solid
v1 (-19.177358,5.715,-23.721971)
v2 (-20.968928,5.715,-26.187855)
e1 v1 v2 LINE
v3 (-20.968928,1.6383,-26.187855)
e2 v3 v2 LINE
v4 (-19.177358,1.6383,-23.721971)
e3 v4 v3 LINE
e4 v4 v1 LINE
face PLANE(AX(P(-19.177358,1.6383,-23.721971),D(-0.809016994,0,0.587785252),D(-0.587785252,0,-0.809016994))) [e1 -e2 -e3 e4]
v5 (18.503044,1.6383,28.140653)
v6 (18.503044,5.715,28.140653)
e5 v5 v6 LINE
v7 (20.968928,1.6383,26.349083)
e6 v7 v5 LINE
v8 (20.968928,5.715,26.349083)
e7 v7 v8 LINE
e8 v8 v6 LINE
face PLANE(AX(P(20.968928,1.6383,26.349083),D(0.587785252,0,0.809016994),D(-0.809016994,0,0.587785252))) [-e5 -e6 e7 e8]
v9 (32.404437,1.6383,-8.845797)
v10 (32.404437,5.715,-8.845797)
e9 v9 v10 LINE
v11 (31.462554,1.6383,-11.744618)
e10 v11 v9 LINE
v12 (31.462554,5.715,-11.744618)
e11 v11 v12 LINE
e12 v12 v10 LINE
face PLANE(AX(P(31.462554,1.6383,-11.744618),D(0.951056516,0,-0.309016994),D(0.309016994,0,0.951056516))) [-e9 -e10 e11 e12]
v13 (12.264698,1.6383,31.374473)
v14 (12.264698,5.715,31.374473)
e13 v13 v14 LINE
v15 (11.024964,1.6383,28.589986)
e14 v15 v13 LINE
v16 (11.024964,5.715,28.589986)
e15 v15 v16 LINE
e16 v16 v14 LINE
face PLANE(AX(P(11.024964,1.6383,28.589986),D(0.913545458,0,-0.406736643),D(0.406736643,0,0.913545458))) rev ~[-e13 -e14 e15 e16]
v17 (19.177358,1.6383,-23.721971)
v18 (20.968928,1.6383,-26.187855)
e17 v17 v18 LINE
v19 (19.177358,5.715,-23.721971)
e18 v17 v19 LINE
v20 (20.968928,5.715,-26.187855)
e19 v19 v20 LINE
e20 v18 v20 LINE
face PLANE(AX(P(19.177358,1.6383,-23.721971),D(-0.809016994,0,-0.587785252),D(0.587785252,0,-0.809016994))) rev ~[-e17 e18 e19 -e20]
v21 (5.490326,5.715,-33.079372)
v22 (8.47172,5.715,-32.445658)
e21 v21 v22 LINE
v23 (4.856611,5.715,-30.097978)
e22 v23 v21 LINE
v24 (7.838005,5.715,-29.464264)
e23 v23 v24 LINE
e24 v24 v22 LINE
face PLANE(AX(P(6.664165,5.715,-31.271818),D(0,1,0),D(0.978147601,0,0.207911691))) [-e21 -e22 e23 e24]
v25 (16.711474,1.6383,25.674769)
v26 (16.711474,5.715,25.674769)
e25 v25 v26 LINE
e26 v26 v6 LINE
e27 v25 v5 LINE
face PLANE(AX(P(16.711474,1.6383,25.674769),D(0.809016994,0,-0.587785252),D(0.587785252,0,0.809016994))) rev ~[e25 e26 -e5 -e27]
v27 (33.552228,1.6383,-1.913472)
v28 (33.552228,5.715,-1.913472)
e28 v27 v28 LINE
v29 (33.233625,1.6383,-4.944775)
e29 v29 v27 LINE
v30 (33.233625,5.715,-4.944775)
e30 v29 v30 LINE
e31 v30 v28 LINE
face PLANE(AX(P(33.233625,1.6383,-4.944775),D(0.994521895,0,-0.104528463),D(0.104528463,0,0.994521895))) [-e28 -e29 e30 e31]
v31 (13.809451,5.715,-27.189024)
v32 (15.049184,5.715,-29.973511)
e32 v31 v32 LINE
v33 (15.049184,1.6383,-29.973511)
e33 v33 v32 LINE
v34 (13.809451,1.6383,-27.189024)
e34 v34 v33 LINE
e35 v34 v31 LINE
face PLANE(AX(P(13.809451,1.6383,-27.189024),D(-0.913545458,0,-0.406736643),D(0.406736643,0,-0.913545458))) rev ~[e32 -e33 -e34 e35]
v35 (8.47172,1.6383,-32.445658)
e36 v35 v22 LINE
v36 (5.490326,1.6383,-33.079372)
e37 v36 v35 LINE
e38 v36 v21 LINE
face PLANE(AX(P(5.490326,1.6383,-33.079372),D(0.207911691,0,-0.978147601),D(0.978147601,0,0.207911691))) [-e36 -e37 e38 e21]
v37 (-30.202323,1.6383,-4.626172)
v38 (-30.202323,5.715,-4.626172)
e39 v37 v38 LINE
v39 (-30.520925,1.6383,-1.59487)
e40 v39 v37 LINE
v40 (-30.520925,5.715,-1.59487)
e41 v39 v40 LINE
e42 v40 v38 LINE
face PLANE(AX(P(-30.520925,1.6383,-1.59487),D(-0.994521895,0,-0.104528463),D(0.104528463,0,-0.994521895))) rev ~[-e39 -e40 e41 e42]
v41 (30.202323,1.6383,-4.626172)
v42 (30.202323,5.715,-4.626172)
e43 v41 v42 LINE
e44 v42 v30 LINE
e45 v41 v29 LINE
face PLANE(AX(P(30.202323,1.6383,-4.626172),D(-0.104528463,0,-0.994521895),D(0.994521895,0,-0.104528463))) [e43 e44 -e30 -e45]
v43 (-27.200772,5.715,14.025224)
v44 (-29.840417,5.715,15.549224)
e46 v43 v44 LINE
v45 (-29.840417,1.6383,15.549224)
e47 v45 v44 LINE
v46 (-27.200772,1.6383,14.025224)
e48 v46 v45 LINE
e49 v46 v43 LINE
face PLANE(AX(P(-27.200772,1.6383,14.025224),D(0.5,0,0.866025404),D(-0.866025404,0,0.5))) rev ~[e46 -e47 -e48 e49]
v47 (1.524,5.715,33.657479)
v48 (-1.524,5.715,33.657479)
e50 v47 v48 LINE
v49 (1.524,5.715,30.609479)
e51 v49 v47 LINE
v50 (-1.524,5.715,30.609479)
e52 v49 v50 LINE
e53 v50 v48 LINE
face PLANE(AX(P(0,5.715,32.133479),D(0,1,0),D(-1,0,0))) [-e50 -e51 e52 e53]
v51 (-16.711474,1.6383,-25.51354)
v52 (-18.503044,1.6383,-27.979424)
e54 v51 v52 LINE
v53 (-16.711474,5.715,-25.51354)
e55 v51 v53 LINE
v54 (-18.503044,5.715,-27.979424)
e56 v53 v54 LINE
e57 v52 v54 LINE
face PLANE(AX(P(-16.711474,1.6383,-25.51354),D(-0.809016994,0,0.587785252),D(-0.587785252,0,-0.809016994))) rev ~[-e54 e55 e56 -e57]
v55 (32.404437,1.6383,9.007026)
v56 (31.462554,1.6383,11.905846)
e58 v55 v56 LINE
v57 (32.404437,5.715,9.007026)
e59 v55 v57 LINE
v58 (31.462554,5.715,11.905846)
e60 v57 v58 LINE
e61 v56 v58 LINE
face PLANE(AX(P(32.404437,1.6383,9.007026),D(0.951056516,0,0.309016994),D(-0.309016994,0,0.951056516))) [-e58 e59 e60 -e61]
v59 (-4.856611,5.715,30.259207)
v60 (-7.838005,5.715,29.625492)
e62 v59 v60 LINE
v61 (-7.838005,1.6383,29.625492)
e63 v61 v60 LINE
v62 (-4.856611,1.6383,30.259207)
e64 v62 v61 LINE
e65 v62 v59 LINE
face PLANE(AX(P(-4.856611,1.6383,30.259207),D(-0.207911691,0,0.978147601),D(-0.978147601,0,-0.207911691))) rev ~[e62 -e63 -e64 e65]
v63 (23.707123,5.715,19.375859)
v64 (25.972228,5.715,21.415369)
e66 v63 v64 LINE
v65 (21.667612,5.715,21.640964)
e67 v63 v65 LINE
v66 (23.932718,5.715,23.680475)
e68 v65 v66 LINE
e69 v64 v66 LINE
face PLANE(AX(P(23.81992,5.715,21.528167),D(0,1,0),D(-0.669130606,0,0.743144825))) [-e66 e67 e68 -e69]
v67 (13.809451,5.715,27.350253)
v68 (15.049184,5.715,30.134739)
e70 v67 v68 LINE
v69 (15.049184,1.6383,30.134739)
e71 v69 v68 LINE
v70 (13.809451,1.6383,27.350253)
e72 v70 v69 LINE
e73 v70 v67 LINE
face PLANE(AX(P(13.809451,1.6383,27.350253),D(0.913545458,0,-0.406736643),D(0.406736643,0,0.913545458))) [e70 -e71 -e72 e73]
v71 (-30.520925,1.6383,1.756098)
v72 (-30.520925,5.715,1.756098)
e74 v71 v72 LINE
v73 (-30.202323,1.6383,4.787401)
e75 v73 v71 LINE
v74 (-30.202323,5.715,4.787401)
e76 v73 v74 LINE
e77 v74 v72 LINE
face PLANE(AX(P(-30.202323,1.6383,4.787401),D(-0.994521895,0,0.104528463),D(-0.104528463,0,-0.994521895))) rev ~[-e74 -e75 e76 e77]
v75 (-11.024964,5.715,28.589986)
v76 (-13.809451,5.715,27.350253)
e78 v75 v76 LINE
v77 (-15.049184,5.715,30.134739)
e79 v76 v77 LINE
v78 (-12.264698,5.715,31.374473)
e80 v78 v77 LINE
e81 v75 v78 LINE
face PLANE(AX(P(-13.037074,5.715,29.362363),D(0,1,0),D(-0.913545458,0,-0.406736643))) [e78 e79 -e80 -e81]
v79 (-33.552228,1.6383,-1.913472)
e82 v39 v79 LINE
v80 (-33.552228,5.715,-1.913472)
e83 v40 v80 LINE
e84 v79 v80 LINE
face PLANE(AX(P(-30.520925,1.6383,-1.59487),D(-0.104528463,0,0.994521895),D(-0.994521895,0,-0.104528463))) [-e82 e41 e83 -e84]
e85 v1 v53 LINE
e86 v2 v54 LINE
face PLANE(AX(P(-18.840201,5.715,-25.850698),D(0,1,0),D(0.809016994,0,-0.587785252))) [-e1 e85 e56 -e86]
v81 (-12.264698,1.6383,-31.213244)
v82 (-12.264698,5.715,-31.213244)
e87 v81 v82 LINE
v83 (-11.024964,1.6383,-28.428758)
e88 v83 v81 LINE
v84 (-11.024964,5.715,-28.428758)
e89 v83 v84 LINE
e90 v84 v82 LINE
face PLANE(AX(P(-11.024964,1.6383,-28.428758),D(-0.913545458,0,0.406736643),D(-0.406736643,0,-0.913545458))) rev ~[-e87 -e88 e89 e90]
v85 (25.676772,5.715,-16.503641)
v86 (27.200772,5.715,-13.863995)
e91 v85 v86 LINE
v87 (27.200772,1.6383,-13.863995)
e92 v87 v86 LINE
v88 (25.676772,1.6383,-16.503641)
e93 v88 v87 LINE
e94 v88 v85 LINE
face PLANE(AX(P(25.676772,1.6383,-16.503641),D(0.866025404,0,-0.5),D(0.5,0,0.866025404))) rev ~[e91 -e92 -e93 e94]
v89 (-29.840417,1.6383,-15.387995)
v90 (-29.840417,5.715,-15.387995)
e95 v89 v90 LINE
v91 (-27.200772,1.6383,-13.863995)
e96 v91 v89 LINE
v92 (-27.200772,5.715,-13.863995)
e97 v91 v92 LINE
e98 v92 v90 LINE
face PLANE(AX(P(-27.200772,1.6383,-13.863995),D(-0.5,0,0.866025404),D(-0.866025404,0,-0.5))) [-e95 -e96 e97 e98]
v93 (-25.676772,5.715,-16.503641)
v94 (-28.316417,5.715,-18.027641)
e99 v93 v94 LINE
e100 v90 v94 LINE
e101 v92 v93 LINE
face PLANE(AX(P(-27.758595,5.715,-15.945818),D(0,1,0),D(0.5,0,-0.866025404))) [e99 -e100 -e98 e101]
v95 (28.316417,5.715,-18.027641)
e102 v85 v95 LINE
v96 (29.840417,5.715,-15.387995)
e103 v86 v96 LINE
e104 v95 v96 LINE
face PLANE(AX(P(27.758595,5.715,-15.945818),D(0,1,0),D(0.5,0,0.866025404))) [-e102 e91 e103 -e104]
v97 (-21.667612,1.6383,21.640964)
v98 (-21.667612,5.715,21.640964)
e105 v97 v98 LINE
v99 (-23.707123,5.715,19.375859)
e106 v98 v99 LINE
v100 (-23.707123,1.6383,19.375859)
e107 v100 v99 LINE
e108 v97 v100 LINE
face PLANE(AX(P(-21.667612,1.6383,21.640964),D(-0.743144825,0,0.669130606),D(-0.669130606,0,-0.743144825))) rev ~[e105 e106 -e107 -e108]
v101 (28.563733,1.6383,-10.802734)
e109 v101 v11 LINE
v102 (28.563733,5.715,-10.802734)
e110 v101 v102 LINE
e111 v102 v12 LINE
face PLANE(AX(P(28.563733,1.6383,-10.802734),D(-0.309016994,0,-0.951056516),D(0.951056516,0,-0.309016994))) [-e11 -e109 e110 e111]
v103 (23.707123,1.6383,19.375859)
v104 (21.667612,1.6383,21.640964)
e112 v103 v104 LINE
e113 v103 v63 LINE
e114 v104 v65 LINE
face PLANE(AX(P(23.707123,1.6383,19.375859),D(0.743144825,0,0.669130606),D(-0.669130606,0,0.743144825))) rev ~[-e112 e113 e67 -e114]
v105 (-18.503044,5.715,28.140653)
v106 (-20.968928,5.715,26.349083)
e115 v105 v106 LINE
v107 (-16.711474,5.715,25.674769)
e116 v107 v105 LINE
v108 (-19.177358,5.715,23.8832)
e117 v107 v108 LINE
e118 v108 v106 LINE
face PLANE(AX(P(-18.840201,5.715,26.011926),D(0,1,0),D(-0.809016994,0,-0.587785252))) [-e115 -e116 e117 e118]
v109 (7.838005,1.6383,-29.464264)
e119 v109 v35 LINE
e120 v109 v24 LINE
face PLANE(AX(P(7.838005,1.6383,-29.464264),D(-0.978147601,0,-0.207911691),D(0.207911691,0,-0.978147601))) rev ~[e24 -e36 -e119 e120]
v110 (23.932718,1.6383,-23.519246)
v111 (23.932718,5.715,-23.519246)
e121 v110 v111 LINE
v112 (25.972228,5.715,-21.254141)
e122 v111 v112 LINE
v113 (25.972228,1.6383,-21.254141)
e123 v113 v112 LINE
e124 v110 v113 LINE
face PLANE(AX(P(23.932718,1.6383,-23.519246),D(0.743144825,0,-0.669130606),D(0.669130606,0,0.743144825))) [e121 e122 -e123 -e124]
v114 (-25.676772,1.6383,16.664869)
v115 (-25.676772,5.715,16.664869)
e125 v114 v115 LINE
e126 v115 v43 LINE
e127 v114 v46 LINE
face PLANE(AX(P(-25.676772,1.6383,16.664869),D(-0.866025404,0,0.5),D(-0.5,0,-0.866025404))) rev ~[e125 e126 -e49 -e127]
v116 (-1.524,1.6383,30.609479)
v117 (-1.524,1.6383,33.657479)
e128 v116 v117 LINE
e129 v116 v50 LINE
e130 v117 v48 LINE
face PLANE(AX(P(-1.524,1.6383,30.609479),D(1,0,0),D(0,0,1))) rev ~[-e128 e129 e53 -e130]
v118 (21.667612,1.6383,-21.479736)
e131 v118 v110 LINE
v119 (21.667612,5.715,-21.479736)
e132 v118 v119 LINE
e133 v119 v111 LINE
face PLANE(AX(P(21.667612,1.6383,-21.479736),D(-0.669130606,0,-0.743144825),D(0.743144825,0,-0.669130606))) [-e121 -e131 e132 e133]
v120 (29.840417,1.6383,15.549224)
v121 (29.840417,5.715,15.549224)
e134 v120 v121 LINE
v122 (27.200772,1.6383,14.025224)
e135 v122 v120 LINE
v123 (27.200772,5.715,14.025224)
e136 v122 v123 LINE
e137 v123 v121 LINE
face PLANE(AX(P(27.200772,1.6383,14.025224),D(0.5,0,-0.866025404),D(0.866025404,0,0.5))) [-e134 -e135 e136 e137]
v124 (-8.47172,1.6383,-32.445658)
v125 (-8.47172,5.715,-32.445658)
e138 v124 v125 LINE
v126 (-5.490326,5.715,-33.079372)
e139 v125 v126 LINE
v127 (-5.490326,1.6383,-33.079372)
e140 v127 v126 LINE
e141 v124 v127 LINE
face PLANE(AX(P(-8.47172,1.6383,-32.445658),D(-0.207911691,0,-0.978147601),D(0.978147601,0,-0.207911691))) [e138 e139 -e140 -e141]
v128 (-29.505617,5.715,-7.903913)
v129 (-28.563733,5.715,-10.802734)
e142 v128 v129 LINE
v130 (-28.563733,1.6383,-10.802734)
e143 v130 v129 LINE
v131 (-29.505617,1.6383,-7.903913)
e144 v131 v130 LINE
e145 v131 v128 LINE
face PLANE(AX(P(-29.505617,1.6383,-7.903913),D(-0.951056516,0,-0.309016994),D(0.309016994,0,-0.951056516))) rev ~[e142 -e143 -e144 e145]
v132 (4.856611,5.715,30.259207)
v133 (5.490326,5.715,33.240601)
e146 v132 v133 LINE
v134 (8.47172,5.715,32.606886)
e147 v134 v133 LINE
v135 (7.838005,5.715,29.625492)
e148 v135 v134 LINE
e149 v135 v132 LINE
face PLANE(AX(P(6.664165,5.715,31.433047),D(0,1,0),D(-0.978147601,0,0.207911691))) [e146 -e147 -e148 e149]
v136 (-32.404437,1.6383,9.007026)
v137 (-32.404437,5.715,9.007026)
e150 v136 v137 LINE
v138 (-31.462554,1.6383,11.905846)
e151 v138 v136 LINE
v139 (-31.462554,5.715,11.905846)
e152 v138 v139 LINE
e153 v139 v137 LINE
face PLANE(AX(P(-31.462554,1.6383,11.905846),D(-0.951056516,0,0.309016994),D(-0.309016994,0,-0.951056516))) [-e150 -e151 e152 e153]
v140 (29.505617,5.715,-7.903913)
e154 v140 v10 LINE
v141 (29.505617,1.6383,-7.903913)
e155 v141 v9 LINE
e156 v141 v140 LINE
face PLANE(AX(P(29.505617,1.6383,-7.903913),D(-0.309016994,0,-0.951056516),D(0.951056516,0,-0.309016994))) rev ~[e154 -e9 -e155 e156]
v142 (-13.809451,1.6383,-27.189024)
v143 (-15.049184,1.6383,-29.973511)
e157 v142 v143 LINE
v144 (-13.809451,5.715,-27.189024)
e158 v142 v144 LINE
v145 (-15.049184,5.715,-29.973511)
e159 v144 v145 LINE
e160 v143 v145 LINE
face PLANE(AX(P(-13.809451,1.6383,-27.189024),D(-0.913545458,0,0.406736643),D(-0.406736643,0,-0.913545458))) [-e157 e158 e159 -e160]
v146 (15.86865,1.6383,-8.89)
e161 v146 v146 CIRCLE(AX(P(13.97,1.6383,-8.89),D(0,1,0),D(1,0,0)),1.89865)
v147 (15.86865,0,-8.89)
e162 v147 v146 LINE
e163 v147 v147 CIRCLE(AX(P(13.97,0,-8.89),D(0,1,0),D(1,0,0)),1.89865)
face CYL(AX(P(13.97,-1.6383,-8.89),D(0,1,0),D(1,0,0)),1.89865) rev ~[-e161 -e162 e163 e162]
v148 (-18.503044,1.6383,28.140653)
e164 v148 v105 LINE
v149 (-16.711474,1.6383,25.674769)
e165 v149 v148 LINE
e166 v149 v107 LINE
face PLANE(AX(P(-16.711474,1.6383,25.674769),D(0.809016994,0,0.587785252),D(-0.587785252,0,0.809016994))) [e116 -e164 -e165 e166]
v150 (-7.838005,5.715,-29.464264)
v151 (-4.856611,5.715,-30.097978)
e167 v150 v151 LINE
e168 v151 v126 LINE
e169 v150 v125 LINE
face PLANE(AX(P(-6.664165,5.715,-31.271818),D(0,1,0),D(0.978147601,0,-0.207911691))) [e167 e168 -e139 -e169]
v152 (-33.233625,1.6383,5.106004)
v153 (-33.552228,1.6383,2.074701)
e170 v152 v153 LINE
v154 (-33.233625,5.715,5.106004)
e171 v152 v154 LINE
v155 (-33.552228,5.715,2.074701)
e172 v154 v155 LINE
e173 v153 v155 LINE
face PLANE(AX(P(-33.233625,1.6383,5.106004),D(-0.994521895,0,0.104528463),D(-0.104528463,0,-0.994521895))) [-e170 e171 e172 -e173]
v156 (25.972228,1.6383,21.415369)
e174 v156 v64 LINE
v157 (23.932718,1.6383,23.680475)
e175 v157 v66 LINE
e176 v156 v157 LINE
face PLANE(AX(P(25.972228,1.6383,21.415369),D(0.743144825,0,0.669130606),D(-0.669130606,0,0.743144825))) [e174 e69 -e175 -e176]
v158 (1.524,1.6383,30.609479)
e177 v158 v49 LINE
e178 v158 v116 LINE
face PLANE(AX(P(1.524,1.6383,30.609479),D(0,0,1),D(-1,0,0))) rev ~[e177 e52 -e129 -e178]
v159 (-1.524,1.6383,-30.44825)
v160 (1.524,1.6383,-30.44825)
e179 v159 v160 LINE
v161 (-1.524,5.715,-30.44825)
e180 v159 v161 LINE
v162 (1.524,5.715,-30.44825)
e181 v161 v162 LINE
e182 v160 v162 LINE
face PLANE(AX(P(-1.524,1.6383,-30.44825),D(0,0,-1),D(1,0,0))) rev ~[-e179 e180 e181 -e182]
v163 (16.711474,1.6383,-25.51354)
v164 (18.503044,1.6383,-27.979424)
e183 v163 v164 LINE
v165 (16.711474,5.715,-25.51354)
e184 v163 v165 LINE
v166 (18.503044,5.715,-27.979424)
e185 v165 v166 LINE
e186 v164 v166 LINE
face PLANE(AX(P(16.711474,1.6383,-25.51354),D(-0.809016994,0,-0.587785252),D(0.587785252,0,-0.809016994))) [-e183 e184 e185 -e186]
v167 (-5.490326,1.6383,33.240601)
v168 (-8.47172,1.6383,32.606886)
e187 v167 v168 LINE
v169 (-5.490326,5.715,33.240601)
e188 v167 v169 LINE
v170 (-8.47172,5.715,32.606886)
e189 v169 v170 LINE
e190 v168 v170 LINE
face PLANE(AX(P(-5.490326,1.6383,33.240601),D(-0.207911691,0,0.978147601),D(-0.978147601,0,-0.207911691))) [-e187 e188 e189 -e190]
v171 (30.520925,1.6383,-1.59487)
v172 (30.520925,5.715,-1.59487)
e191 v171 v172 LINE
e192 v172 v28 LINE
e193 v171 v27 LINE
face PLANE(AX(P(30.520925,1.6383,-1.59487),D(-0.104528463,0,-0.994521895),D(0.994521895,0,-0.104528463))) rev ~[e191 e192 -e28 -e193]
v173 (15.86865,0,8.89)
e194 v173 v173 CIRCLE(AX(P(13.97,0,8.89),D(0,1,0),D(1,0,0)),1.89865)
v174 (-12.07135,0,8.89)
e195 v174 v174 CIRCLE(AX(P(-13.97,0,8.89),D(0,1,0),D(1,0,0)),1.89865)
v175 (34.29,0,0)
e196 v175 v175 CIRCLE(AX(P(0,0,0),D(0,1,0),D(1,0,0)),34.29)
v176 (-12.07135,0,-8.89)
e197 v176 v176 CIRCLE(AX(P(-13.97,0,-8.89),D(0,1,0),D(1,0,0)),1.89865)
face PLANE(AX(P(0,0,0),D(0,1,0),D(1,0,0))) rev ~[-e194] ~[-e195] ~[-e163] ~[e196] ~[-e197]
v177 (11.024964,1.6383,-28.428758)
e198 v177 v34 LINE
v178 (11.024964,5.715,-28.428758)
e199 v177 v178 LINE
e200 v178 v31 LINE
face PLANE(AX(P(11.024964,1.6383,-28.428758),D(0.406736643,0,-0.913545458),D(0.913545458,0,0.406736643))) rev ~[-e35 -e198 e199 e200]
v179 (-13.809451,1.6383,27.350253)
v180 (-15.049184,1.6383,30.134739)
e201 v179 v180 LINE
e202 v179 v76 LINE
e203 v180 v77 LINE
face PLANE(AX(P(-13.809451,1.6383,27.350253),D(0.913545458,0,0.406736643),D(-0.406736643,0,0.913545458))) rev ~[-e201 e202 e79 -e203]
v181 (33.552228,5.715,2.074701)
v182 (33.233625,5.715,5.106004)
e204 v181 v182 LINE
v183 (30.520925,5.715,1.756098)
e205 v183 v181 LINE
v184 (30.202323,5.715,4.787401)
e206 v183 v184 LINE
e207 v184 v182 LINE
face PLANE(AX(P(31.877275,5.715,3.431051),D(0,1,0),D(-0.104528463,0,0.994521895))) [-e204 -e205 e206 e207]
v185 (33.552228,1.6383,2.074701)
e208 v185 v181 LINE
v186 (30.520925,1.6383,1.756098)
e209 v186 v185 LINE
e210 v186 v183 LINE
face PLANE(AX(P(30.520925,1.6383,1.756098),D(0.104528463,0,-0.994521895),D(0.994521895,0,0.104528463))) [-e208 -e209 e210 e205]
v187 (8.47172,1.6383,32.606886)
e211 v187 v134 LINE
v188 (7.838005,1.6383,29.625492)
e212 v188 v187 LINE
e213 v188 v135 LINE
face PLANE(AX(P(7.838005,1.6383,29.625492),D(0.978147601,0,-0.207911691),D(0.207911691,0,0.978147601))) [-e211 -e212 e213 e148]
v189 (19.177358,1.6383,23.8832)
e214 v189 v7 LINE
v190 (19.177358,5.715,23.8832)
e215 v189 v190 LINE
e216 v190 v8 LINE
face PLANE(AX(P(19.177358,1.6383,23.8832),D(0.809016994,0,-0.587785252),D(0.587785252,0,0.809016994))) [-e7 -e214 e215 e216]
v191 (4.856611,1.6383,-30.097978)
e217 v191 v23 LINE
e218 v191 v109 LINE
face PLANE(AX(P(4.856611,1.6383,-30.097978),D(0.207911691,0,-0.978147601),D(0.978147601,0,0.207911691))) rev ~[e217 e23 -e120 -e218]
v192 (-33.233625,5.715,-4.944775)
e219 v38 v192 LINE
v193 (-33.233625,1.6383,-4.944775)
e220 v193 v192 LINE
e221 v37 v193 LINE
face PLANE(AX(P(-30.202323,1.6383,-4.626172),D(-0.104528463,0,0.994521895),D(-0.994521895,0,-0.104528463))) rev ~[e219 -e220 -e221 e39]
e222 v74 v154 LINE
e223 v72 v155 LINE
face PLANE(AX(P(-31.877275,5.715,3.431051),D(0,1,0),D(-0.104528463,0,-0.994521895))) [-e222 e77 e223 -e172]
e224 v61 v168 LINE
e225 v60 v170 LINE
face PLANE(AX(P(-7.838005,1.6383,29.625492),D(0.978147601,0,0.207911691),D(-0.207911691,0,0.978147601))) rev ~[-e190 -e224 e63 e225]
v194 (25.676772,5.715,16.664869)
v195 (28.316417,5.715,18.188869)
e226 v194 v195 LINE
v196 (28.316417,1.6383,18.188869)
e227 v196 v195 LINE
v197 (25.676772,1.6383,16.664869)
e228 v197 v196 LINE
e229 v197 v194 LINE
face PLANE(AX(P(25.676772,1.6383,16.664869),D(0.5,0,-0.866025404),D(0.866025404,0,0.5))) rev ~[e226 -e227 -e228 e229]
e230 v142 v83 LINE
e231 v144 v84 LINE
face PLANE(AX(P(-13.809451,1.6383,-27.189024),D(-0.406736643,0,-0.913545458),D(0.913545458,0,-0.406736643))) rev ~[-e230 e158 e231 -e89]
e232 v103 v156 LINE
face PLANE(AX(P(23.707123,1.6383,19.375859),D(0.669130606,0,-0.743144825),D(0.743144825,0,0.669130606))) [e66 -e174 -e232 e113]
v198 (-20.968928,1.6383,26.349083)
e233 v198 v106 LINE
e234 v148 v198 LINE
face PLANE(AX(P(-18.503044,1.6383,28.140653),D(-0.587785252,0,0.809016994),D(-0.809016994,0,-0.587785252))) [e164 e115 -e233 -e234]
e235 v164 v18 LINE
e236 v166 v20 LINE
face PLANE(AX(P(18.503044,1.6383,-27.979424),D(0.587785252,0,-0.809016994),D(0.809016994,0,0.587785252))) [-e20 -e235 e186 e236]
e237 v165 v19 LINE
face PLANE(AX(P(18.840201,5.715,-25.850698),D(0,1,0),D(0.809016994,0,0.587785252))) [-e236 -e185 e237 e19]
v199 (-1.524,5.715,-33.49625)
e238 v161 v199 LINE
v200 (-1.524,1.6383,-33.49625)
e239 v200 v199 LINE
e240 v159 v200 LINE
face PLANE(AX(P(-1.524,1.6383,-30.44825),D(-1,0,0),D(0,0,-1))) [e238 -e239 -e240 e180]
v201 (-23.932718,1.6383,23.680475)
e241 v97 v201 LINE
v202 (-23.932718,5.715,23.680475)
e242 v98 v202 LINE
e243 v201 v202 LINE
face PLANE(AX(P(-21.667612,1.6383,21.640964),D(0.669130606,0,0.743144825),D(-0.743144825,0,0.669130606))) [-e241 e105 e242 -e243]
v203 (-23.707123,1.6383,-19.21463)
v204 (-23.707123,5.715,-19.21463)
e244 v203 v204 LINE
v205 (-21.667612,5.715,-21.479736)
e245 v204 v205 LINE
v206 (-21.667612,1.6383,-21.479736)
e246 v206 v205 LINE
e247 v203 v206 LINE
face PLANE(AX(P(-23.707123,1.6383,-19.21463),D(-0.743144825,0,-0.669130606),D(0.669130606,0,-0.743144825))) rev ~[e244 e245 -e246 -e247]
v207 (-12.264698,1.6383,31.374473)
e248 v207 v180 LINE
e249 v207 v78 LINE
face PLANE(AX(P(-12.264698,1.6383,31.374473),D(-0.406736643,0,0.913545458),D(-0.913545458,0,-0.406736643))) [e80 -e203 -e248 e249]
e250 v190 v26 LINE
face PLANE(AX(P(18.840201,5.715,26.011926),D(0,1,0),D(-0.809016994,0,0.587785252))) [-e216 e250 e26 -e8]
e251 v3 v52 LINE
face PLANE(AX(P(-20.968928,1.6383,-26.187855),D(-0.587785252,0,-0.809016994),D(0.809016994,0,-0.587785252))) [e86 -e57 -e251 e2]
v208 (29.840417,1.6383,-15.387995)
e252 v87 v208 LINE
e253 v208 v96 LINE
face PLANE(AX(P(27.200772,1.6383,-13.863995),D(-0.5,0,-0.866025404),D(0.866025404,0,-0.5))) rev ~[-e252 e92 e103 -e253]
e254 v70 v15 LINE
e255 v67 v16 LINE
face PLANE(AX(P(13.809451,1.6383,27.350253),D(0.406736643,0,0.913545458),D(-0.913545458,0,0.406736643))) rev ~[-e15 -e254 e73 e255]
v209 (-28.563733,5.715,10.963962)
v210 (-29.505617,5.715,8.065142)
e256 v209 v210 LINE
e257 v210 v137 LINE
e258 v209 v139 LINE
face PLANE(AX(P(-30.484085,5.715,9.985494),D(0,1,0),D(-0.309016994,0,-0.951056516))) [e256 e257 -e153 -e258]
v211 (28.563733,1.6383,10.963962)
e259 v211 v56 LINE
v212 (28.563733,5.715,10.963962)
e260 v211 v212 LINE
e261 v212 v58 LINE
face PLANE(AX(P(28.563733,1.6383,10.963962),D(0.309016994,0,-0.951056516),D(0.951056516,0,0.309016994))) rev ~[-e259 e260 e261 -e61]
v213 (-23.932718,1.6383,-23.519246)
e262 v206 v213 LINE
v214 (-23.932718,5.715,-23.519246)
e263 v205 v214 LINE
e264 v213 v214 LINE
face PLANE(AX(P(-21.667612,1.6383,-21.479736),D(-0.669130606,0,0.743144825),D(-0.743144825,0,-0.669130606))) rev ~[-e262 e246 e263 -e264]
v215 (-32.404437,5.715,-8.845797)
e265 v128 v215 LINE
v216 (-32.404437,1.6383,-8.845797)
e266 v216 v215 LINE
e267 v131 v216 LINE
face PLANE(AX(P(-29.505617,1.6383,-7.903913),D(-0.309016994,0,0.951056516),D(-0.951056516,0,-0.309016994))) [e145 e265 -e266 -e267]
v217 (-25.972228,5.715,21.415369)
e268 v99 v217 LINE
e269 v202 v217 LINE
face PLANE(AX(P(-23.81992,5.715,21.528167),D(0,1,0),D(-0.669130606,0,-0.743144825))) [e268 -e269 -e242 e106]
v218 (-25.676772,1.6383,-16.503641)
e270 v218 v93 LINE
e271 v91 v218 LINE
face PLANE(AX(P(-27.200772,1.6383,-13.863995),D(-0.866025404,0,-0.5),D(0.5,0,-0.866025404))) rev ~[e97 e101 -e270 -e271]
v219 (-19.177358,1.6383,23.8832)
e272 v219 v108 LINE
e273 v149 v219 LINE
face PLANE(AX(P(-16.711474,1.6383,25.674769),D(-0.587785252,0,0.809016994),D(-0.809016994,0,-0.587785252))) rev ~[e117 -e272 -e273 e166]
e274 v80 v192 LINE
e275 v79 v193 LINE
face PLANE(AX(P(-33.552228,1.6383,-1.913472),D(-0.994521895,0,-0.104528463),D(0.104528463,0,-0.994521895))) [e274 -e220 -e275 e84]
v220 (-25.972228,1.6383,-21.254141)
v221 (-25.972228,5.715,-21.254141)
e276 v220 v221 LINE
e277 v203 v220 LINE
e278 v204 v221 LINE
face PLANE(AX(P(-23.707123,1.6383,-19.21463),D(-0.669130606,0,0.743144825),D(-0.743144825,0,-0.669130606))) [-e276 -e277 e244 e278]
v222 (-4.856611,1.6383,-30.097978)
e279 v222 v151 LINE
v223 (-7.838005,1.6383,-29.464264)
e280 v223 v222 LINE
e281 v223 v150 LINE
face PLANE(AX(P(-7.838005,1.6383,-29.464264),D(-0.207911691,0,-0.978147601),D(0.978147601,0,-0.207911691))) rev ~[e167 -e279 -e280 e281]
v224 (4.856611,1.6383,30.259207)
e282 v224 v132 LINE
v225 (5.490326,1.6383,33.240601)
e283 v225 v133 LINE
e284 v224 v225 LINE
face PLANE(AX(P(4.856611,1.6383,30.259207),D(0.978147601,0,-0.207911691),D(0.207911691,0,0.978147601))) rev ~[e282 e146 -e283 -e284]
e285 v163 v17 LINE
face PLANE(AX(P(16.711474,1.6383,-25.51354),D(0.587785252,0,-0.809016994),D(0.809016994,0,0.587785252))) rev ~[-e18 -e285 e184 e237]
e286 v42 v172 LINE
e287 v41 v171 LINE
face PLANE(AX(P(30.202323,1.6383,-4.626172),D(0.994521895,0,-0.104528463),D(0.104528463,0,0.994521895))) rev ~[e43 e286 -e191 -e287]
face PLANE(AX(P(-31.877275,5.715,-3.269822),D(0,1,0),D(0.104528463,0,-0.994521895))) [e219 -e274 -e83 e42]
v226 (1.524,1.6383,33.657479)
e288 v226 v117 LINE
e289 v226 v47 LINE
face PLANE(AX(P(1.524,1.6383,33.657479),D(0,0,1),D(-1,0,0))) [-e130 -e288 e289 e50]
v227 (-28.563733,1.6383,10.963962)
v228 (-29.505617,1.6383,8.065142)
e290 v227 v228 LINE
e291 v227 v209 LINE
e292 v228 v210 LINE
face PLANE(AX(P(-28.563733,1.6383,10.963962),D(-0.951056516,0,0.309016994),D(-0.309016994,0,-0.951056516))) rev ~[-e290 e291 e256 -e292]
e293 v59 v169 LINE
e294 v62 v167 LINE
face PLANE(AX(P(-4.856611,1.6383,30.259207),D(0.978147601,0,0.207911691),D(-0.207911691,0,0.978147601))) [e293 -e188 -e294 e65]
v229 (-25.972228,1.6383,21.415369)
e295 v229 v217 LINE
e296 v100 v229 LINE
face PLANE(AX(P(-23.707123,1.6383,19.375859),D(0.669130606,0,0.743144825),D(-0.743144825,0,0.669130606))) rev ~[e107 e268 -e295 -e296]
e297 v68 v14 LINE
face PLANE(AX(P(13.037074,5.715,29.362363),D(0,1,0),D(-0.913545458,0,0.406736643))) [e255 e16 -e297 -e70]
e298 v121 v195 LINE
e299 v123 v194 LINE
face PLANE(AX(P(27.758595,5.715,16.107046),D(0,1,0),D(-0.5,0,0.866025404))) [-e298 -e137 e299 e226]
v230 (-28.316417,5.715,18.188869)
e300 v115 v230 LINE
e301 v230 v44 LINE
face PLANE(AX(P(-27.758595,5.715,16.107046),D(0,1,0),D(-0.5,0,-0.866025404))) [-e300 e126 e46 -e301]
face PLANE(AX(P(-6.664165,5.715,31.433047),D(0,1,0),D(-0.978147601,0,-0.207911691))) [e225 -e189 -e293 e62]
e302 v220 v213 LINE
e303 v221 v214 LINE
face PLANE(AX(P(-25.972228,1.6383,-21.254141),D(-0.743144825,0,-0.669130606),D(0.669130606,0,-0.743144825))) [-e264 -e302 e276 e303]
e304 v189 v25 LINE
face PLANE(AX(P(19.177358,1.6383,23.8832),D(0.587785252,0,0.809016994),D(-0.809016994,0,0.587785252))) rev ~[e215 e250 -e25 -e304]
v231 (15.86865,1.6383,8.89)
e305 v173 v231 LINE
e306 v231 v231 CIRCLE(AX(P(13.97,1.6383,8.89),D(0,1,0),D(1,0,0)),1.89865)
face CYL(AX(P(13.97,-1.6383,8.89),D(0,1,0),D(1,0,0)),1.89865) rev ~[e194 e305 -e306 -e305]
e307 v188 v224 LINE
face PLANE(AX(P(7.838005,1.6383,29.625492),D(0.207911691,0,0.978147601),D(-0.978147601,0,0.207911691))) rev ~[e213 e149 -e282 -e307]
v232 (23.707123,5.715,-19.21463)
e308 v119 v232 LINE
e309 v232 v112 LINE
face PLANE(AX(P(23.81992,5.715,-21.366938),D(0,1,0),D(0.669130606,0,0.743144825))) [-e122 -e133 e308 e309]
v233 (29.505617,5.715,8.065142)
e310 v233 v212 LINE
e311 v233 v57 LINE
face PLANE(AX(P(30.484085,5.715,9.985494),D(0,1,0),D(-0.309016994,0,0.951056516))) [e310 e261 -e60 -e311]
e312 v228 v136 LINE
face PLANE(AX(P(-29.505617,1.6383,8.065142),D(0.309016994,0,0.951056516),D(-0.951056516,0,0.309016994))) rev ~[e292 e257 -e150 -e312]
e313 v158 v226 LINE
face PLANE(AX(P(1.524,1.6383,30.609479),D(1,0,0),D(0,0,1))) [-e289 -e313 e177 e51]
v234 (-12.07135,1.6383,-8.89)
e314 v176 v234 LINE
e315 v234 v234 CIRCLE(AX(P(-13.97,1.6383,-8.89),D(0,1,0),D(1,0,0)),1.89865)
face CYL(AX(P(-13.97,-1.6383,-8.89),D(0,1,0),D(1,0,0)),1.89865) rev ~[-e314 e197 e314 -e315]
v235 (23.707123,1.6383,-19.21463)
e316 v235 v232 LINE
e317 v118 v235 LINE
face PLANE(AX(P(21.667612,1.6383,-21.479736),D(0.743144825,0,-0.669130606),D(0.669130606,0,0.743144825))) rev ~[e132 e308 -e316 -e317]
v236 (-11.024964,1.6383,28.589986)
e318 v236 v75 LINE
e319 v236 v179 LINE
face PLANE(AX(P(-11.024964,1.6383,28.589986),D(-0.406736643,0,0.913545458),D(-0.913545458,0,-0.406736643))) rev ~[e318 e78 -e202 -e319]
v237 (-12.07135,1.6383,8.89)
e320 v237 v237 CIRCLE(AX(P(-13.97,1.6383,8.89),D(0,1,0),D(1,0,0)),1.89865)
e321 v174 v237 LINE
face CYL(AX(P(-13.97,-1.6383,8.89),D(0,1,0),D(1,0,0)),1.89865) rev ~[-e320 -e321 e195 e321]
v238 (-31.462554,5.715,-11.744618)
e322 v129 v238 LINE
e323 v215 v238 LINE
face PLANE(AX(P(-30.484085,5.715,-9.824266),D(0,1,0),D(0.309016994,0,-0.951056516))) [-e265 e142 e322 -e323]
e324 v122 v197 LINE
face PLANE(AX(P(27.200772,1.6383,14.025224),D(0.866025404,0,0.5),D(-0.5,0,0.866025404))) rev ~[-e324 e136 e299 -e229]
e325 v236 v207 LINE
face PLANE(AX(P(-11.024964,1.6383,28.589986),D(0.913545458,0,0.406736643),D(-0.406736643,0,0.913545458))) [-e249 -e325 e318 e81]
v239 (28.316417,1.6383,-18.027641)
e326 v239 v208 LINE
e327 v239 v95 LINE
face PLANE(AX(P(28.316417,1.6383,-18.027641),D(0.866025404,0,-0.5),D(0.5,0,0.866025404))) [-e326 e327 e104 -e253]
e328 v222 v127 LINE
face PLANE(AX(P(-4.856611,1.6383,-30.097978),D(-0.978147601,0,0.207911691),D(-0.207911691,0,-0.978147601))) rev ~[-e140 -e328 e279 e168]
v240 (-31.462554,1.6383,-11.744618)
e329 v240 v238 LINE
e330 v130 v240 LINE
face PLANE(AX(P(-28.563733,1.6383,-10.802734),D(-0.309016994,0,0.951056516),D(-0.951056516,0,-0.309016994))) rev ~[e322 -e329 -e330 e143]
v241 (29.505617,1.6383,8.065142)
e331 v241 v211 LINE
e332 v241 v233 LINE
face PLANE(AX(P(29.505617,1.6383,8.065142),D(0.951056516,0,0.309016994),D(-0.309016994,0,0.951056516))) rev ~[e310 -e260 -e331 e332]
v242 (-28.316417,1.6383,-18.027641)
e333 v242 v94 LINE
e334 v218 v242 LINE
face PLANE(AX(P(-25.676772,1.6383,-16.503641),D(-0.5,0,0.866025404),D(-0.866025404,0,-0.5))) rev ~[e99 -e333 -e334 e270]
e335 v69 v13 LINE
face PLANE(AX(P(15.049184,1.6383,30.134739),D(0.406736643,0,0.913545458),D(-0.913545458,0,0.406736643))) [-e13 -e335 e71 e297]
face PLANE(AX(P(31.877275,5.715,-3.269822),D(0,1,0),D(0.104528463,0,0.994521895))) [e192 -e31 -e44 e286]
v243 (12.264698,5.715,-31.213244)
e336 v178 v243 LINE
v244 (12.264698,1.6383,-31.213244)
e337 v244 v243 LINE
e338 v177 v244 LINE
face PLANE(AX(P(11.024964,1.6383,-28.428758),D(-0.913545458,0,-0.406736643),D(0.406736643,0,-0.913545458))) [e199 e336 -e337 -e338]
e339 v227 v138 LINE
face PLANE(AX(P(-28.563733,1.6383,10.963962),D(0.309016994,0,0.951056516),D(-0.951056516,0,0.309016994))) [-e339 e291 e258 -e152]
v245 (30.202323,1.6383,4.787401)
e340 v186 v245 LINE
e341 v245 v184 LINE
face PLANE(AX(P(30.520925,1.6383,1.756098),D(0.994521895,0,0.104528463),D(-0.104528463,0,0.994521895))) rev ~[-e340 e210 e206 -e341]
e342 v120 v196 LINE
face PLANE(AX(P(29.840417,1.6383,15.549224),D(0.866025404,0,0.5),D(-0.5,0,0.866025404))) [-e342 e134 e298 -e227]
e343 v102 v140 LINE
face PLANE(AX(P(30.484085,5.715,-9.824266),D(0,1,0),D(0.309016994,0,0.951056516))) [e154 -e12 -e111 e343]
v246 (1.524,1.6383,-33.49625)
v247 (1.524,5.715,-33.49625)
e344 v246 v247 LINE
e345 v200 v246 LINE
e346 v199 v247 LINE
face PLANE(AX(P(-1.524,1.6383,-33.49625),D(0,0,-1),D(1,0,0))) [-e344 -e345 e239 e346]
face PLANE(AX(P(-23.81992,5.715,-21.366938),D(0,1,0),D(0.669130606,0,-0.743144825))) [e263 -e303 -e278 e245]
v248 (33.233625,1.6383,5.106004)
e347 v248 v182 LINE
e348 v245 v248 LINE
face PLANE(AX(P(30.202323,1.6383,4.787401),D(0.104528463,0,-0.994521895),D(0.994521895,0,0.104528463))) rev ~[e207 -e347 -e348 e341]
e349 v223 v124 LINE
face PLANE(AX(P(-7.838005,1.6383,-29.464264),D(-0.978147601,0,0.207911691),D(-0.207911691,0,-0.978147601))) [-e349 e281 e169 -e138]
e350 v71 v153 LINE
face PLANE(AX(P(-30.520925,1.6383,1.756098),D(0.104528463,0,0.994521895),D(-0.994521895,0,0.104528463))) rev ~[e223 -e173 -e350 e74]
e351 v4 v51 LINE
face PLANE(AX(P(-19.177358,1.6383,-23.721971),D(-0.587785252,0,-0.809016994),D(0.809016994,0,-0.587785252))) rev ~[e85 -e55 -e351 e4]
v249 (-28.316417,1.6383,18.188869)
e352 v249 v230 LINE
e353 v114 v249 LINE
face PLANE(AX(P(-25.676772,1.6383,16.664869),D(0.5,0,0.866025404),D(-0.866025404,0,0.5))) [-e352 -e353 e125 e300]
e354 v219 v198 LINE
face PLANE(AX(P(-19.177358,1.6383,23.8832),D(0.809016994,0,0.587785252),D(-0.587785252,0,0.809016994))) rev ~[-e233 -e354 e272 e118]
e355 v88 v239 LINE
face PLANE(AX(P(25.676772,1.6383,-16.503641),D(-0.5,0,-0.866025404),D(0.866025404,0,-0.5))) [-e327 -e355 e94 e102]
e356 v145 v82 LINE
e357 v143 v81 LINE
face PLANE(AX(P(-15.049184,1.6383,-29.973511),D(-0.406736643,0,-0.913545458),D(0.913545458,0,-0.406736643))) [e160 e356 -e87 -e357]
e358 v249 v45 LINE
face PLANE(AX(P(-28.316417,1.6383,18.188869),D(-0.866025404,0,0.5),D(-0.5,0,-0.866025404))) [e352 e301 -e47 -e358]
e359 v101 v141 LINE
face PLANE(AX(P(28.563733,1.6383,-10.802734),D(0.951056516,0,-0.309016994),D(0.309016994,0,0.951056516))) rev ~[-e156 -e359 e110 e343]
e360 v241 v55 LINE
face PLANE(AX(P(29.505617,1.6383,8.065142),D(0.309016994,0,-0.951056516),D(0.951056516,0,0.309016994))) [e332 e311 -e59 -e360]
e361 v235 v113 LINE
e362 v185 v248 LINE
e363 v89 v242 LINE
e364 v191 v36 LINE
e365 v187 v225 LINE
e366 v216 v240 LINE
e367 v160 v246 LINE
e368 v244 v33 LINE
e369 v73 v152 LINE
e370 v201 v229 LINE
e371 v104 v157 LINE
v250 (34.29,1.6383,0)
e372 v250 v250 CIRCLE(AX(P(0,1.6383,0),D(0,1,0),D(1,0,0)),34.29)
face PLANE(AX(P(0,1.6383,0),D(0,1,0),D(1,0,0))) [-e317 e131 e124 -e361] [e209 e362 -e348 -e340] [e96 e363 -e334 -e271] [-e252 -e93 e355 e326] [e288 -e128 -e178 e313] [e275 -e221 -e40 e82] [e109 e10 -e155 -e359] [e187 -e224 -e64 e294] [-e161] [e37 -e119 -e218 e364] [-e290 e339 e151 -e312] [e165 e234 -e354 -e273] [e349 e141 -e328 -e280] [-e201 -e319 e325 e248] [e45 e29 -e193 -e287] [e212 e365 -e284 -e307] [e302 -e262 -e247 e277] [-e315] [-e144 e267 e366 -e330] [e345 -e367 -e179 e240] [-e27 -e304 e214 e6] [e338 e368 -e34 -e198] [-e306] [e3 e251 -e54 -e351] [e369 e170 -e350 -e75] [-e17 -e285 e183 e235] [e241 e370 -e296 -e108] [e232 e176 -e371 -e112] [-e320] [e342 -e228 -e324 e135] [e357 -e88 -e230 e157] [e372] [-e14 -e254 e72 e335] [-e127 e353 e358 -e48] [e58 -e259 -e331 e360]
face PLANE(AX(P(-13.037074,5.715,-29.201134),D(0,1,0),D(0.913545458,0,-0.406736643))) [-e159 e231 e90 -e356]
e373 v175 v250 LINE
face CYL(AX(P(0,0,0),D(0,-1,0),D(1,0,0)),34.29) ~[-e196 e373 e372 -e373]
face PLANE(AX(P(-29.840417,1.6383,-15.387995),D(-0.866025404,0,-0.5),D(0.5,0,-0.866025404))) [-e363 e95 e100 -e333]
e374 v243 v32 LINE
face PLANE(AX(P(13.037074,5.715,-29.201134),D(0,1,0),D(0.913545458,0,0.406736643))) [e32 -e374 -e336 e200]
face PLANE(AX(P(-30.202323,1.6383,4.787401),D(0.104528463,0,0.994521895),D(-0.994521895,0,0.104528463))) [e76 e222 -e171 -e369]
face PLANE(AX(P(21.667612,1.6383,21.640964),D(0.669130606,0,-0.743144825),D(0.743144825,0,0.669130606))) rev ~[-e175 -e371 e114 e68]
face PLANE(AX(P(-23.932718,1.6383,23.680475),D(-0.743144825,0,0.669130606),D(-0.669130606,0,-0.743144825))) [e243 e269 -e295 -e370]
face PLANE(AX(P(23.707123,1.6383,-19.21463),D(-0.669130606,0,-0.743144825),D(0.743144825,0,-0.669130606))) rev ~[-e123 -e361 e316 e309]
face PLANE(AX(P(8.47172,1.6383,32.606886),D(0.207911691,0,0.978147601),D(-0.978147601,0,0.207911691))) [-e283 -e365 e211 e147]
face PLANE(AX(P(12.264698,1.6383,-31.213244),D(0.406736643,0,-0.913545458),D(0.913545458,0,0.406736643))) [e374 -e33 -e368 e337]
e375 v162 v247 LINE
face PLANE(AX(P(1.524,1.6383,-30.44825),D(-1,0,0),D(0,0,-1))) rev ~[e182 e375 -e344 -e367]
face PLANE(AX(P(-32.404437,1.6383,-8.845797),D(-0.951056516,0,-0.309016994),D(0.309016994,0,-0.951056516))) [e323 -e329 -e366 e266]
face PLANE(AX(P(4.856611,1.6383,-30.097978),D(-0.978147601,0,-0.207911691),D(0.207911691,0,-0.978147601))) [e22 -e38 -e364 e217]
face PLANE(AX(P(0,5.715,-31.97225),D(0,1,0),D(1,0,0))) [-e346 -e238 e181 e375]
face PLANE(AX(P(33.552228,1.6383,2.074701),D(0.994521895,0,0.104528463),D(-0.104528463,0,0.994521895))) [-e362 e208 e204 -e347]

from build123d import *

# Parameters (mm, degrees)
SKETCH1_R                 = 34.29
BOSS_EXTRUDE1_DEPTH       = 1.6383
SKETCH3_W                 = 3.048
SKETCH3_H                 = 3.048
BOSS_EXTRUDE3_DEPTH       = 4.0767
CIRPATTERN1_COUNT         = 30
F_6_CLEARANCE_HOLE1_D     = 3.7973
F_6_CLEARANCE_HOLE1_DEPTH = 1.6383


with BuildPart() as part:
    # Sketch1 → Boss-Extrude1 (new body)
    with BuildSketch(Plane(origin=(0, 0, 0), x_dir=(1, 0, 0), z_dir=(0, 1, 0))):
        Circle(SKETCH1_R)
    extrude(amount=BOSS_EXTRUDE1_DEPTH)

    # Sketch3 → Boss-Extrude3 (add)
    with BuildSketch(Plane(origin=(0, 1.6383, 0), x_dir=(1, 0, 0), z_dir=(0, 1, 0))):
        with Locations((0, 31.97225)):
            Rectangle(SKETCH3_W, SKETCH3_H)
    boss_extrude3 = extrude(amount=BOSS_EXTRUDE3_DEPTH)

    # CirPattern1: Boss-Extrude3 ×30 about axis
    cirpattern1_axis = Axis((0, 0, 0.08061427), (0, 1, 0))
    for i in range(1, CIRPATTERN1_COUNT):
        add(boss_extrude3.rotate(cirpattern1_axis, i * 360 / CIRPATTERN1_COUNT))

    # #6 Clearance Hole1
    with Locations(Plane(origin=(0, 0, 0), x_dir=(-1, 0, 0), z_dir=(0, -1, 0))):
        with Locations((13.97, -8.89), (13.97, 8.89), (-13.97, 8.89), (-13.97, -8.89)):
            Hole(F_6_CLEARANCE_HOLE1_D / 2, depth=F_6_CLEARANCE_HOLE1_DEPTH)


solid = part.part
